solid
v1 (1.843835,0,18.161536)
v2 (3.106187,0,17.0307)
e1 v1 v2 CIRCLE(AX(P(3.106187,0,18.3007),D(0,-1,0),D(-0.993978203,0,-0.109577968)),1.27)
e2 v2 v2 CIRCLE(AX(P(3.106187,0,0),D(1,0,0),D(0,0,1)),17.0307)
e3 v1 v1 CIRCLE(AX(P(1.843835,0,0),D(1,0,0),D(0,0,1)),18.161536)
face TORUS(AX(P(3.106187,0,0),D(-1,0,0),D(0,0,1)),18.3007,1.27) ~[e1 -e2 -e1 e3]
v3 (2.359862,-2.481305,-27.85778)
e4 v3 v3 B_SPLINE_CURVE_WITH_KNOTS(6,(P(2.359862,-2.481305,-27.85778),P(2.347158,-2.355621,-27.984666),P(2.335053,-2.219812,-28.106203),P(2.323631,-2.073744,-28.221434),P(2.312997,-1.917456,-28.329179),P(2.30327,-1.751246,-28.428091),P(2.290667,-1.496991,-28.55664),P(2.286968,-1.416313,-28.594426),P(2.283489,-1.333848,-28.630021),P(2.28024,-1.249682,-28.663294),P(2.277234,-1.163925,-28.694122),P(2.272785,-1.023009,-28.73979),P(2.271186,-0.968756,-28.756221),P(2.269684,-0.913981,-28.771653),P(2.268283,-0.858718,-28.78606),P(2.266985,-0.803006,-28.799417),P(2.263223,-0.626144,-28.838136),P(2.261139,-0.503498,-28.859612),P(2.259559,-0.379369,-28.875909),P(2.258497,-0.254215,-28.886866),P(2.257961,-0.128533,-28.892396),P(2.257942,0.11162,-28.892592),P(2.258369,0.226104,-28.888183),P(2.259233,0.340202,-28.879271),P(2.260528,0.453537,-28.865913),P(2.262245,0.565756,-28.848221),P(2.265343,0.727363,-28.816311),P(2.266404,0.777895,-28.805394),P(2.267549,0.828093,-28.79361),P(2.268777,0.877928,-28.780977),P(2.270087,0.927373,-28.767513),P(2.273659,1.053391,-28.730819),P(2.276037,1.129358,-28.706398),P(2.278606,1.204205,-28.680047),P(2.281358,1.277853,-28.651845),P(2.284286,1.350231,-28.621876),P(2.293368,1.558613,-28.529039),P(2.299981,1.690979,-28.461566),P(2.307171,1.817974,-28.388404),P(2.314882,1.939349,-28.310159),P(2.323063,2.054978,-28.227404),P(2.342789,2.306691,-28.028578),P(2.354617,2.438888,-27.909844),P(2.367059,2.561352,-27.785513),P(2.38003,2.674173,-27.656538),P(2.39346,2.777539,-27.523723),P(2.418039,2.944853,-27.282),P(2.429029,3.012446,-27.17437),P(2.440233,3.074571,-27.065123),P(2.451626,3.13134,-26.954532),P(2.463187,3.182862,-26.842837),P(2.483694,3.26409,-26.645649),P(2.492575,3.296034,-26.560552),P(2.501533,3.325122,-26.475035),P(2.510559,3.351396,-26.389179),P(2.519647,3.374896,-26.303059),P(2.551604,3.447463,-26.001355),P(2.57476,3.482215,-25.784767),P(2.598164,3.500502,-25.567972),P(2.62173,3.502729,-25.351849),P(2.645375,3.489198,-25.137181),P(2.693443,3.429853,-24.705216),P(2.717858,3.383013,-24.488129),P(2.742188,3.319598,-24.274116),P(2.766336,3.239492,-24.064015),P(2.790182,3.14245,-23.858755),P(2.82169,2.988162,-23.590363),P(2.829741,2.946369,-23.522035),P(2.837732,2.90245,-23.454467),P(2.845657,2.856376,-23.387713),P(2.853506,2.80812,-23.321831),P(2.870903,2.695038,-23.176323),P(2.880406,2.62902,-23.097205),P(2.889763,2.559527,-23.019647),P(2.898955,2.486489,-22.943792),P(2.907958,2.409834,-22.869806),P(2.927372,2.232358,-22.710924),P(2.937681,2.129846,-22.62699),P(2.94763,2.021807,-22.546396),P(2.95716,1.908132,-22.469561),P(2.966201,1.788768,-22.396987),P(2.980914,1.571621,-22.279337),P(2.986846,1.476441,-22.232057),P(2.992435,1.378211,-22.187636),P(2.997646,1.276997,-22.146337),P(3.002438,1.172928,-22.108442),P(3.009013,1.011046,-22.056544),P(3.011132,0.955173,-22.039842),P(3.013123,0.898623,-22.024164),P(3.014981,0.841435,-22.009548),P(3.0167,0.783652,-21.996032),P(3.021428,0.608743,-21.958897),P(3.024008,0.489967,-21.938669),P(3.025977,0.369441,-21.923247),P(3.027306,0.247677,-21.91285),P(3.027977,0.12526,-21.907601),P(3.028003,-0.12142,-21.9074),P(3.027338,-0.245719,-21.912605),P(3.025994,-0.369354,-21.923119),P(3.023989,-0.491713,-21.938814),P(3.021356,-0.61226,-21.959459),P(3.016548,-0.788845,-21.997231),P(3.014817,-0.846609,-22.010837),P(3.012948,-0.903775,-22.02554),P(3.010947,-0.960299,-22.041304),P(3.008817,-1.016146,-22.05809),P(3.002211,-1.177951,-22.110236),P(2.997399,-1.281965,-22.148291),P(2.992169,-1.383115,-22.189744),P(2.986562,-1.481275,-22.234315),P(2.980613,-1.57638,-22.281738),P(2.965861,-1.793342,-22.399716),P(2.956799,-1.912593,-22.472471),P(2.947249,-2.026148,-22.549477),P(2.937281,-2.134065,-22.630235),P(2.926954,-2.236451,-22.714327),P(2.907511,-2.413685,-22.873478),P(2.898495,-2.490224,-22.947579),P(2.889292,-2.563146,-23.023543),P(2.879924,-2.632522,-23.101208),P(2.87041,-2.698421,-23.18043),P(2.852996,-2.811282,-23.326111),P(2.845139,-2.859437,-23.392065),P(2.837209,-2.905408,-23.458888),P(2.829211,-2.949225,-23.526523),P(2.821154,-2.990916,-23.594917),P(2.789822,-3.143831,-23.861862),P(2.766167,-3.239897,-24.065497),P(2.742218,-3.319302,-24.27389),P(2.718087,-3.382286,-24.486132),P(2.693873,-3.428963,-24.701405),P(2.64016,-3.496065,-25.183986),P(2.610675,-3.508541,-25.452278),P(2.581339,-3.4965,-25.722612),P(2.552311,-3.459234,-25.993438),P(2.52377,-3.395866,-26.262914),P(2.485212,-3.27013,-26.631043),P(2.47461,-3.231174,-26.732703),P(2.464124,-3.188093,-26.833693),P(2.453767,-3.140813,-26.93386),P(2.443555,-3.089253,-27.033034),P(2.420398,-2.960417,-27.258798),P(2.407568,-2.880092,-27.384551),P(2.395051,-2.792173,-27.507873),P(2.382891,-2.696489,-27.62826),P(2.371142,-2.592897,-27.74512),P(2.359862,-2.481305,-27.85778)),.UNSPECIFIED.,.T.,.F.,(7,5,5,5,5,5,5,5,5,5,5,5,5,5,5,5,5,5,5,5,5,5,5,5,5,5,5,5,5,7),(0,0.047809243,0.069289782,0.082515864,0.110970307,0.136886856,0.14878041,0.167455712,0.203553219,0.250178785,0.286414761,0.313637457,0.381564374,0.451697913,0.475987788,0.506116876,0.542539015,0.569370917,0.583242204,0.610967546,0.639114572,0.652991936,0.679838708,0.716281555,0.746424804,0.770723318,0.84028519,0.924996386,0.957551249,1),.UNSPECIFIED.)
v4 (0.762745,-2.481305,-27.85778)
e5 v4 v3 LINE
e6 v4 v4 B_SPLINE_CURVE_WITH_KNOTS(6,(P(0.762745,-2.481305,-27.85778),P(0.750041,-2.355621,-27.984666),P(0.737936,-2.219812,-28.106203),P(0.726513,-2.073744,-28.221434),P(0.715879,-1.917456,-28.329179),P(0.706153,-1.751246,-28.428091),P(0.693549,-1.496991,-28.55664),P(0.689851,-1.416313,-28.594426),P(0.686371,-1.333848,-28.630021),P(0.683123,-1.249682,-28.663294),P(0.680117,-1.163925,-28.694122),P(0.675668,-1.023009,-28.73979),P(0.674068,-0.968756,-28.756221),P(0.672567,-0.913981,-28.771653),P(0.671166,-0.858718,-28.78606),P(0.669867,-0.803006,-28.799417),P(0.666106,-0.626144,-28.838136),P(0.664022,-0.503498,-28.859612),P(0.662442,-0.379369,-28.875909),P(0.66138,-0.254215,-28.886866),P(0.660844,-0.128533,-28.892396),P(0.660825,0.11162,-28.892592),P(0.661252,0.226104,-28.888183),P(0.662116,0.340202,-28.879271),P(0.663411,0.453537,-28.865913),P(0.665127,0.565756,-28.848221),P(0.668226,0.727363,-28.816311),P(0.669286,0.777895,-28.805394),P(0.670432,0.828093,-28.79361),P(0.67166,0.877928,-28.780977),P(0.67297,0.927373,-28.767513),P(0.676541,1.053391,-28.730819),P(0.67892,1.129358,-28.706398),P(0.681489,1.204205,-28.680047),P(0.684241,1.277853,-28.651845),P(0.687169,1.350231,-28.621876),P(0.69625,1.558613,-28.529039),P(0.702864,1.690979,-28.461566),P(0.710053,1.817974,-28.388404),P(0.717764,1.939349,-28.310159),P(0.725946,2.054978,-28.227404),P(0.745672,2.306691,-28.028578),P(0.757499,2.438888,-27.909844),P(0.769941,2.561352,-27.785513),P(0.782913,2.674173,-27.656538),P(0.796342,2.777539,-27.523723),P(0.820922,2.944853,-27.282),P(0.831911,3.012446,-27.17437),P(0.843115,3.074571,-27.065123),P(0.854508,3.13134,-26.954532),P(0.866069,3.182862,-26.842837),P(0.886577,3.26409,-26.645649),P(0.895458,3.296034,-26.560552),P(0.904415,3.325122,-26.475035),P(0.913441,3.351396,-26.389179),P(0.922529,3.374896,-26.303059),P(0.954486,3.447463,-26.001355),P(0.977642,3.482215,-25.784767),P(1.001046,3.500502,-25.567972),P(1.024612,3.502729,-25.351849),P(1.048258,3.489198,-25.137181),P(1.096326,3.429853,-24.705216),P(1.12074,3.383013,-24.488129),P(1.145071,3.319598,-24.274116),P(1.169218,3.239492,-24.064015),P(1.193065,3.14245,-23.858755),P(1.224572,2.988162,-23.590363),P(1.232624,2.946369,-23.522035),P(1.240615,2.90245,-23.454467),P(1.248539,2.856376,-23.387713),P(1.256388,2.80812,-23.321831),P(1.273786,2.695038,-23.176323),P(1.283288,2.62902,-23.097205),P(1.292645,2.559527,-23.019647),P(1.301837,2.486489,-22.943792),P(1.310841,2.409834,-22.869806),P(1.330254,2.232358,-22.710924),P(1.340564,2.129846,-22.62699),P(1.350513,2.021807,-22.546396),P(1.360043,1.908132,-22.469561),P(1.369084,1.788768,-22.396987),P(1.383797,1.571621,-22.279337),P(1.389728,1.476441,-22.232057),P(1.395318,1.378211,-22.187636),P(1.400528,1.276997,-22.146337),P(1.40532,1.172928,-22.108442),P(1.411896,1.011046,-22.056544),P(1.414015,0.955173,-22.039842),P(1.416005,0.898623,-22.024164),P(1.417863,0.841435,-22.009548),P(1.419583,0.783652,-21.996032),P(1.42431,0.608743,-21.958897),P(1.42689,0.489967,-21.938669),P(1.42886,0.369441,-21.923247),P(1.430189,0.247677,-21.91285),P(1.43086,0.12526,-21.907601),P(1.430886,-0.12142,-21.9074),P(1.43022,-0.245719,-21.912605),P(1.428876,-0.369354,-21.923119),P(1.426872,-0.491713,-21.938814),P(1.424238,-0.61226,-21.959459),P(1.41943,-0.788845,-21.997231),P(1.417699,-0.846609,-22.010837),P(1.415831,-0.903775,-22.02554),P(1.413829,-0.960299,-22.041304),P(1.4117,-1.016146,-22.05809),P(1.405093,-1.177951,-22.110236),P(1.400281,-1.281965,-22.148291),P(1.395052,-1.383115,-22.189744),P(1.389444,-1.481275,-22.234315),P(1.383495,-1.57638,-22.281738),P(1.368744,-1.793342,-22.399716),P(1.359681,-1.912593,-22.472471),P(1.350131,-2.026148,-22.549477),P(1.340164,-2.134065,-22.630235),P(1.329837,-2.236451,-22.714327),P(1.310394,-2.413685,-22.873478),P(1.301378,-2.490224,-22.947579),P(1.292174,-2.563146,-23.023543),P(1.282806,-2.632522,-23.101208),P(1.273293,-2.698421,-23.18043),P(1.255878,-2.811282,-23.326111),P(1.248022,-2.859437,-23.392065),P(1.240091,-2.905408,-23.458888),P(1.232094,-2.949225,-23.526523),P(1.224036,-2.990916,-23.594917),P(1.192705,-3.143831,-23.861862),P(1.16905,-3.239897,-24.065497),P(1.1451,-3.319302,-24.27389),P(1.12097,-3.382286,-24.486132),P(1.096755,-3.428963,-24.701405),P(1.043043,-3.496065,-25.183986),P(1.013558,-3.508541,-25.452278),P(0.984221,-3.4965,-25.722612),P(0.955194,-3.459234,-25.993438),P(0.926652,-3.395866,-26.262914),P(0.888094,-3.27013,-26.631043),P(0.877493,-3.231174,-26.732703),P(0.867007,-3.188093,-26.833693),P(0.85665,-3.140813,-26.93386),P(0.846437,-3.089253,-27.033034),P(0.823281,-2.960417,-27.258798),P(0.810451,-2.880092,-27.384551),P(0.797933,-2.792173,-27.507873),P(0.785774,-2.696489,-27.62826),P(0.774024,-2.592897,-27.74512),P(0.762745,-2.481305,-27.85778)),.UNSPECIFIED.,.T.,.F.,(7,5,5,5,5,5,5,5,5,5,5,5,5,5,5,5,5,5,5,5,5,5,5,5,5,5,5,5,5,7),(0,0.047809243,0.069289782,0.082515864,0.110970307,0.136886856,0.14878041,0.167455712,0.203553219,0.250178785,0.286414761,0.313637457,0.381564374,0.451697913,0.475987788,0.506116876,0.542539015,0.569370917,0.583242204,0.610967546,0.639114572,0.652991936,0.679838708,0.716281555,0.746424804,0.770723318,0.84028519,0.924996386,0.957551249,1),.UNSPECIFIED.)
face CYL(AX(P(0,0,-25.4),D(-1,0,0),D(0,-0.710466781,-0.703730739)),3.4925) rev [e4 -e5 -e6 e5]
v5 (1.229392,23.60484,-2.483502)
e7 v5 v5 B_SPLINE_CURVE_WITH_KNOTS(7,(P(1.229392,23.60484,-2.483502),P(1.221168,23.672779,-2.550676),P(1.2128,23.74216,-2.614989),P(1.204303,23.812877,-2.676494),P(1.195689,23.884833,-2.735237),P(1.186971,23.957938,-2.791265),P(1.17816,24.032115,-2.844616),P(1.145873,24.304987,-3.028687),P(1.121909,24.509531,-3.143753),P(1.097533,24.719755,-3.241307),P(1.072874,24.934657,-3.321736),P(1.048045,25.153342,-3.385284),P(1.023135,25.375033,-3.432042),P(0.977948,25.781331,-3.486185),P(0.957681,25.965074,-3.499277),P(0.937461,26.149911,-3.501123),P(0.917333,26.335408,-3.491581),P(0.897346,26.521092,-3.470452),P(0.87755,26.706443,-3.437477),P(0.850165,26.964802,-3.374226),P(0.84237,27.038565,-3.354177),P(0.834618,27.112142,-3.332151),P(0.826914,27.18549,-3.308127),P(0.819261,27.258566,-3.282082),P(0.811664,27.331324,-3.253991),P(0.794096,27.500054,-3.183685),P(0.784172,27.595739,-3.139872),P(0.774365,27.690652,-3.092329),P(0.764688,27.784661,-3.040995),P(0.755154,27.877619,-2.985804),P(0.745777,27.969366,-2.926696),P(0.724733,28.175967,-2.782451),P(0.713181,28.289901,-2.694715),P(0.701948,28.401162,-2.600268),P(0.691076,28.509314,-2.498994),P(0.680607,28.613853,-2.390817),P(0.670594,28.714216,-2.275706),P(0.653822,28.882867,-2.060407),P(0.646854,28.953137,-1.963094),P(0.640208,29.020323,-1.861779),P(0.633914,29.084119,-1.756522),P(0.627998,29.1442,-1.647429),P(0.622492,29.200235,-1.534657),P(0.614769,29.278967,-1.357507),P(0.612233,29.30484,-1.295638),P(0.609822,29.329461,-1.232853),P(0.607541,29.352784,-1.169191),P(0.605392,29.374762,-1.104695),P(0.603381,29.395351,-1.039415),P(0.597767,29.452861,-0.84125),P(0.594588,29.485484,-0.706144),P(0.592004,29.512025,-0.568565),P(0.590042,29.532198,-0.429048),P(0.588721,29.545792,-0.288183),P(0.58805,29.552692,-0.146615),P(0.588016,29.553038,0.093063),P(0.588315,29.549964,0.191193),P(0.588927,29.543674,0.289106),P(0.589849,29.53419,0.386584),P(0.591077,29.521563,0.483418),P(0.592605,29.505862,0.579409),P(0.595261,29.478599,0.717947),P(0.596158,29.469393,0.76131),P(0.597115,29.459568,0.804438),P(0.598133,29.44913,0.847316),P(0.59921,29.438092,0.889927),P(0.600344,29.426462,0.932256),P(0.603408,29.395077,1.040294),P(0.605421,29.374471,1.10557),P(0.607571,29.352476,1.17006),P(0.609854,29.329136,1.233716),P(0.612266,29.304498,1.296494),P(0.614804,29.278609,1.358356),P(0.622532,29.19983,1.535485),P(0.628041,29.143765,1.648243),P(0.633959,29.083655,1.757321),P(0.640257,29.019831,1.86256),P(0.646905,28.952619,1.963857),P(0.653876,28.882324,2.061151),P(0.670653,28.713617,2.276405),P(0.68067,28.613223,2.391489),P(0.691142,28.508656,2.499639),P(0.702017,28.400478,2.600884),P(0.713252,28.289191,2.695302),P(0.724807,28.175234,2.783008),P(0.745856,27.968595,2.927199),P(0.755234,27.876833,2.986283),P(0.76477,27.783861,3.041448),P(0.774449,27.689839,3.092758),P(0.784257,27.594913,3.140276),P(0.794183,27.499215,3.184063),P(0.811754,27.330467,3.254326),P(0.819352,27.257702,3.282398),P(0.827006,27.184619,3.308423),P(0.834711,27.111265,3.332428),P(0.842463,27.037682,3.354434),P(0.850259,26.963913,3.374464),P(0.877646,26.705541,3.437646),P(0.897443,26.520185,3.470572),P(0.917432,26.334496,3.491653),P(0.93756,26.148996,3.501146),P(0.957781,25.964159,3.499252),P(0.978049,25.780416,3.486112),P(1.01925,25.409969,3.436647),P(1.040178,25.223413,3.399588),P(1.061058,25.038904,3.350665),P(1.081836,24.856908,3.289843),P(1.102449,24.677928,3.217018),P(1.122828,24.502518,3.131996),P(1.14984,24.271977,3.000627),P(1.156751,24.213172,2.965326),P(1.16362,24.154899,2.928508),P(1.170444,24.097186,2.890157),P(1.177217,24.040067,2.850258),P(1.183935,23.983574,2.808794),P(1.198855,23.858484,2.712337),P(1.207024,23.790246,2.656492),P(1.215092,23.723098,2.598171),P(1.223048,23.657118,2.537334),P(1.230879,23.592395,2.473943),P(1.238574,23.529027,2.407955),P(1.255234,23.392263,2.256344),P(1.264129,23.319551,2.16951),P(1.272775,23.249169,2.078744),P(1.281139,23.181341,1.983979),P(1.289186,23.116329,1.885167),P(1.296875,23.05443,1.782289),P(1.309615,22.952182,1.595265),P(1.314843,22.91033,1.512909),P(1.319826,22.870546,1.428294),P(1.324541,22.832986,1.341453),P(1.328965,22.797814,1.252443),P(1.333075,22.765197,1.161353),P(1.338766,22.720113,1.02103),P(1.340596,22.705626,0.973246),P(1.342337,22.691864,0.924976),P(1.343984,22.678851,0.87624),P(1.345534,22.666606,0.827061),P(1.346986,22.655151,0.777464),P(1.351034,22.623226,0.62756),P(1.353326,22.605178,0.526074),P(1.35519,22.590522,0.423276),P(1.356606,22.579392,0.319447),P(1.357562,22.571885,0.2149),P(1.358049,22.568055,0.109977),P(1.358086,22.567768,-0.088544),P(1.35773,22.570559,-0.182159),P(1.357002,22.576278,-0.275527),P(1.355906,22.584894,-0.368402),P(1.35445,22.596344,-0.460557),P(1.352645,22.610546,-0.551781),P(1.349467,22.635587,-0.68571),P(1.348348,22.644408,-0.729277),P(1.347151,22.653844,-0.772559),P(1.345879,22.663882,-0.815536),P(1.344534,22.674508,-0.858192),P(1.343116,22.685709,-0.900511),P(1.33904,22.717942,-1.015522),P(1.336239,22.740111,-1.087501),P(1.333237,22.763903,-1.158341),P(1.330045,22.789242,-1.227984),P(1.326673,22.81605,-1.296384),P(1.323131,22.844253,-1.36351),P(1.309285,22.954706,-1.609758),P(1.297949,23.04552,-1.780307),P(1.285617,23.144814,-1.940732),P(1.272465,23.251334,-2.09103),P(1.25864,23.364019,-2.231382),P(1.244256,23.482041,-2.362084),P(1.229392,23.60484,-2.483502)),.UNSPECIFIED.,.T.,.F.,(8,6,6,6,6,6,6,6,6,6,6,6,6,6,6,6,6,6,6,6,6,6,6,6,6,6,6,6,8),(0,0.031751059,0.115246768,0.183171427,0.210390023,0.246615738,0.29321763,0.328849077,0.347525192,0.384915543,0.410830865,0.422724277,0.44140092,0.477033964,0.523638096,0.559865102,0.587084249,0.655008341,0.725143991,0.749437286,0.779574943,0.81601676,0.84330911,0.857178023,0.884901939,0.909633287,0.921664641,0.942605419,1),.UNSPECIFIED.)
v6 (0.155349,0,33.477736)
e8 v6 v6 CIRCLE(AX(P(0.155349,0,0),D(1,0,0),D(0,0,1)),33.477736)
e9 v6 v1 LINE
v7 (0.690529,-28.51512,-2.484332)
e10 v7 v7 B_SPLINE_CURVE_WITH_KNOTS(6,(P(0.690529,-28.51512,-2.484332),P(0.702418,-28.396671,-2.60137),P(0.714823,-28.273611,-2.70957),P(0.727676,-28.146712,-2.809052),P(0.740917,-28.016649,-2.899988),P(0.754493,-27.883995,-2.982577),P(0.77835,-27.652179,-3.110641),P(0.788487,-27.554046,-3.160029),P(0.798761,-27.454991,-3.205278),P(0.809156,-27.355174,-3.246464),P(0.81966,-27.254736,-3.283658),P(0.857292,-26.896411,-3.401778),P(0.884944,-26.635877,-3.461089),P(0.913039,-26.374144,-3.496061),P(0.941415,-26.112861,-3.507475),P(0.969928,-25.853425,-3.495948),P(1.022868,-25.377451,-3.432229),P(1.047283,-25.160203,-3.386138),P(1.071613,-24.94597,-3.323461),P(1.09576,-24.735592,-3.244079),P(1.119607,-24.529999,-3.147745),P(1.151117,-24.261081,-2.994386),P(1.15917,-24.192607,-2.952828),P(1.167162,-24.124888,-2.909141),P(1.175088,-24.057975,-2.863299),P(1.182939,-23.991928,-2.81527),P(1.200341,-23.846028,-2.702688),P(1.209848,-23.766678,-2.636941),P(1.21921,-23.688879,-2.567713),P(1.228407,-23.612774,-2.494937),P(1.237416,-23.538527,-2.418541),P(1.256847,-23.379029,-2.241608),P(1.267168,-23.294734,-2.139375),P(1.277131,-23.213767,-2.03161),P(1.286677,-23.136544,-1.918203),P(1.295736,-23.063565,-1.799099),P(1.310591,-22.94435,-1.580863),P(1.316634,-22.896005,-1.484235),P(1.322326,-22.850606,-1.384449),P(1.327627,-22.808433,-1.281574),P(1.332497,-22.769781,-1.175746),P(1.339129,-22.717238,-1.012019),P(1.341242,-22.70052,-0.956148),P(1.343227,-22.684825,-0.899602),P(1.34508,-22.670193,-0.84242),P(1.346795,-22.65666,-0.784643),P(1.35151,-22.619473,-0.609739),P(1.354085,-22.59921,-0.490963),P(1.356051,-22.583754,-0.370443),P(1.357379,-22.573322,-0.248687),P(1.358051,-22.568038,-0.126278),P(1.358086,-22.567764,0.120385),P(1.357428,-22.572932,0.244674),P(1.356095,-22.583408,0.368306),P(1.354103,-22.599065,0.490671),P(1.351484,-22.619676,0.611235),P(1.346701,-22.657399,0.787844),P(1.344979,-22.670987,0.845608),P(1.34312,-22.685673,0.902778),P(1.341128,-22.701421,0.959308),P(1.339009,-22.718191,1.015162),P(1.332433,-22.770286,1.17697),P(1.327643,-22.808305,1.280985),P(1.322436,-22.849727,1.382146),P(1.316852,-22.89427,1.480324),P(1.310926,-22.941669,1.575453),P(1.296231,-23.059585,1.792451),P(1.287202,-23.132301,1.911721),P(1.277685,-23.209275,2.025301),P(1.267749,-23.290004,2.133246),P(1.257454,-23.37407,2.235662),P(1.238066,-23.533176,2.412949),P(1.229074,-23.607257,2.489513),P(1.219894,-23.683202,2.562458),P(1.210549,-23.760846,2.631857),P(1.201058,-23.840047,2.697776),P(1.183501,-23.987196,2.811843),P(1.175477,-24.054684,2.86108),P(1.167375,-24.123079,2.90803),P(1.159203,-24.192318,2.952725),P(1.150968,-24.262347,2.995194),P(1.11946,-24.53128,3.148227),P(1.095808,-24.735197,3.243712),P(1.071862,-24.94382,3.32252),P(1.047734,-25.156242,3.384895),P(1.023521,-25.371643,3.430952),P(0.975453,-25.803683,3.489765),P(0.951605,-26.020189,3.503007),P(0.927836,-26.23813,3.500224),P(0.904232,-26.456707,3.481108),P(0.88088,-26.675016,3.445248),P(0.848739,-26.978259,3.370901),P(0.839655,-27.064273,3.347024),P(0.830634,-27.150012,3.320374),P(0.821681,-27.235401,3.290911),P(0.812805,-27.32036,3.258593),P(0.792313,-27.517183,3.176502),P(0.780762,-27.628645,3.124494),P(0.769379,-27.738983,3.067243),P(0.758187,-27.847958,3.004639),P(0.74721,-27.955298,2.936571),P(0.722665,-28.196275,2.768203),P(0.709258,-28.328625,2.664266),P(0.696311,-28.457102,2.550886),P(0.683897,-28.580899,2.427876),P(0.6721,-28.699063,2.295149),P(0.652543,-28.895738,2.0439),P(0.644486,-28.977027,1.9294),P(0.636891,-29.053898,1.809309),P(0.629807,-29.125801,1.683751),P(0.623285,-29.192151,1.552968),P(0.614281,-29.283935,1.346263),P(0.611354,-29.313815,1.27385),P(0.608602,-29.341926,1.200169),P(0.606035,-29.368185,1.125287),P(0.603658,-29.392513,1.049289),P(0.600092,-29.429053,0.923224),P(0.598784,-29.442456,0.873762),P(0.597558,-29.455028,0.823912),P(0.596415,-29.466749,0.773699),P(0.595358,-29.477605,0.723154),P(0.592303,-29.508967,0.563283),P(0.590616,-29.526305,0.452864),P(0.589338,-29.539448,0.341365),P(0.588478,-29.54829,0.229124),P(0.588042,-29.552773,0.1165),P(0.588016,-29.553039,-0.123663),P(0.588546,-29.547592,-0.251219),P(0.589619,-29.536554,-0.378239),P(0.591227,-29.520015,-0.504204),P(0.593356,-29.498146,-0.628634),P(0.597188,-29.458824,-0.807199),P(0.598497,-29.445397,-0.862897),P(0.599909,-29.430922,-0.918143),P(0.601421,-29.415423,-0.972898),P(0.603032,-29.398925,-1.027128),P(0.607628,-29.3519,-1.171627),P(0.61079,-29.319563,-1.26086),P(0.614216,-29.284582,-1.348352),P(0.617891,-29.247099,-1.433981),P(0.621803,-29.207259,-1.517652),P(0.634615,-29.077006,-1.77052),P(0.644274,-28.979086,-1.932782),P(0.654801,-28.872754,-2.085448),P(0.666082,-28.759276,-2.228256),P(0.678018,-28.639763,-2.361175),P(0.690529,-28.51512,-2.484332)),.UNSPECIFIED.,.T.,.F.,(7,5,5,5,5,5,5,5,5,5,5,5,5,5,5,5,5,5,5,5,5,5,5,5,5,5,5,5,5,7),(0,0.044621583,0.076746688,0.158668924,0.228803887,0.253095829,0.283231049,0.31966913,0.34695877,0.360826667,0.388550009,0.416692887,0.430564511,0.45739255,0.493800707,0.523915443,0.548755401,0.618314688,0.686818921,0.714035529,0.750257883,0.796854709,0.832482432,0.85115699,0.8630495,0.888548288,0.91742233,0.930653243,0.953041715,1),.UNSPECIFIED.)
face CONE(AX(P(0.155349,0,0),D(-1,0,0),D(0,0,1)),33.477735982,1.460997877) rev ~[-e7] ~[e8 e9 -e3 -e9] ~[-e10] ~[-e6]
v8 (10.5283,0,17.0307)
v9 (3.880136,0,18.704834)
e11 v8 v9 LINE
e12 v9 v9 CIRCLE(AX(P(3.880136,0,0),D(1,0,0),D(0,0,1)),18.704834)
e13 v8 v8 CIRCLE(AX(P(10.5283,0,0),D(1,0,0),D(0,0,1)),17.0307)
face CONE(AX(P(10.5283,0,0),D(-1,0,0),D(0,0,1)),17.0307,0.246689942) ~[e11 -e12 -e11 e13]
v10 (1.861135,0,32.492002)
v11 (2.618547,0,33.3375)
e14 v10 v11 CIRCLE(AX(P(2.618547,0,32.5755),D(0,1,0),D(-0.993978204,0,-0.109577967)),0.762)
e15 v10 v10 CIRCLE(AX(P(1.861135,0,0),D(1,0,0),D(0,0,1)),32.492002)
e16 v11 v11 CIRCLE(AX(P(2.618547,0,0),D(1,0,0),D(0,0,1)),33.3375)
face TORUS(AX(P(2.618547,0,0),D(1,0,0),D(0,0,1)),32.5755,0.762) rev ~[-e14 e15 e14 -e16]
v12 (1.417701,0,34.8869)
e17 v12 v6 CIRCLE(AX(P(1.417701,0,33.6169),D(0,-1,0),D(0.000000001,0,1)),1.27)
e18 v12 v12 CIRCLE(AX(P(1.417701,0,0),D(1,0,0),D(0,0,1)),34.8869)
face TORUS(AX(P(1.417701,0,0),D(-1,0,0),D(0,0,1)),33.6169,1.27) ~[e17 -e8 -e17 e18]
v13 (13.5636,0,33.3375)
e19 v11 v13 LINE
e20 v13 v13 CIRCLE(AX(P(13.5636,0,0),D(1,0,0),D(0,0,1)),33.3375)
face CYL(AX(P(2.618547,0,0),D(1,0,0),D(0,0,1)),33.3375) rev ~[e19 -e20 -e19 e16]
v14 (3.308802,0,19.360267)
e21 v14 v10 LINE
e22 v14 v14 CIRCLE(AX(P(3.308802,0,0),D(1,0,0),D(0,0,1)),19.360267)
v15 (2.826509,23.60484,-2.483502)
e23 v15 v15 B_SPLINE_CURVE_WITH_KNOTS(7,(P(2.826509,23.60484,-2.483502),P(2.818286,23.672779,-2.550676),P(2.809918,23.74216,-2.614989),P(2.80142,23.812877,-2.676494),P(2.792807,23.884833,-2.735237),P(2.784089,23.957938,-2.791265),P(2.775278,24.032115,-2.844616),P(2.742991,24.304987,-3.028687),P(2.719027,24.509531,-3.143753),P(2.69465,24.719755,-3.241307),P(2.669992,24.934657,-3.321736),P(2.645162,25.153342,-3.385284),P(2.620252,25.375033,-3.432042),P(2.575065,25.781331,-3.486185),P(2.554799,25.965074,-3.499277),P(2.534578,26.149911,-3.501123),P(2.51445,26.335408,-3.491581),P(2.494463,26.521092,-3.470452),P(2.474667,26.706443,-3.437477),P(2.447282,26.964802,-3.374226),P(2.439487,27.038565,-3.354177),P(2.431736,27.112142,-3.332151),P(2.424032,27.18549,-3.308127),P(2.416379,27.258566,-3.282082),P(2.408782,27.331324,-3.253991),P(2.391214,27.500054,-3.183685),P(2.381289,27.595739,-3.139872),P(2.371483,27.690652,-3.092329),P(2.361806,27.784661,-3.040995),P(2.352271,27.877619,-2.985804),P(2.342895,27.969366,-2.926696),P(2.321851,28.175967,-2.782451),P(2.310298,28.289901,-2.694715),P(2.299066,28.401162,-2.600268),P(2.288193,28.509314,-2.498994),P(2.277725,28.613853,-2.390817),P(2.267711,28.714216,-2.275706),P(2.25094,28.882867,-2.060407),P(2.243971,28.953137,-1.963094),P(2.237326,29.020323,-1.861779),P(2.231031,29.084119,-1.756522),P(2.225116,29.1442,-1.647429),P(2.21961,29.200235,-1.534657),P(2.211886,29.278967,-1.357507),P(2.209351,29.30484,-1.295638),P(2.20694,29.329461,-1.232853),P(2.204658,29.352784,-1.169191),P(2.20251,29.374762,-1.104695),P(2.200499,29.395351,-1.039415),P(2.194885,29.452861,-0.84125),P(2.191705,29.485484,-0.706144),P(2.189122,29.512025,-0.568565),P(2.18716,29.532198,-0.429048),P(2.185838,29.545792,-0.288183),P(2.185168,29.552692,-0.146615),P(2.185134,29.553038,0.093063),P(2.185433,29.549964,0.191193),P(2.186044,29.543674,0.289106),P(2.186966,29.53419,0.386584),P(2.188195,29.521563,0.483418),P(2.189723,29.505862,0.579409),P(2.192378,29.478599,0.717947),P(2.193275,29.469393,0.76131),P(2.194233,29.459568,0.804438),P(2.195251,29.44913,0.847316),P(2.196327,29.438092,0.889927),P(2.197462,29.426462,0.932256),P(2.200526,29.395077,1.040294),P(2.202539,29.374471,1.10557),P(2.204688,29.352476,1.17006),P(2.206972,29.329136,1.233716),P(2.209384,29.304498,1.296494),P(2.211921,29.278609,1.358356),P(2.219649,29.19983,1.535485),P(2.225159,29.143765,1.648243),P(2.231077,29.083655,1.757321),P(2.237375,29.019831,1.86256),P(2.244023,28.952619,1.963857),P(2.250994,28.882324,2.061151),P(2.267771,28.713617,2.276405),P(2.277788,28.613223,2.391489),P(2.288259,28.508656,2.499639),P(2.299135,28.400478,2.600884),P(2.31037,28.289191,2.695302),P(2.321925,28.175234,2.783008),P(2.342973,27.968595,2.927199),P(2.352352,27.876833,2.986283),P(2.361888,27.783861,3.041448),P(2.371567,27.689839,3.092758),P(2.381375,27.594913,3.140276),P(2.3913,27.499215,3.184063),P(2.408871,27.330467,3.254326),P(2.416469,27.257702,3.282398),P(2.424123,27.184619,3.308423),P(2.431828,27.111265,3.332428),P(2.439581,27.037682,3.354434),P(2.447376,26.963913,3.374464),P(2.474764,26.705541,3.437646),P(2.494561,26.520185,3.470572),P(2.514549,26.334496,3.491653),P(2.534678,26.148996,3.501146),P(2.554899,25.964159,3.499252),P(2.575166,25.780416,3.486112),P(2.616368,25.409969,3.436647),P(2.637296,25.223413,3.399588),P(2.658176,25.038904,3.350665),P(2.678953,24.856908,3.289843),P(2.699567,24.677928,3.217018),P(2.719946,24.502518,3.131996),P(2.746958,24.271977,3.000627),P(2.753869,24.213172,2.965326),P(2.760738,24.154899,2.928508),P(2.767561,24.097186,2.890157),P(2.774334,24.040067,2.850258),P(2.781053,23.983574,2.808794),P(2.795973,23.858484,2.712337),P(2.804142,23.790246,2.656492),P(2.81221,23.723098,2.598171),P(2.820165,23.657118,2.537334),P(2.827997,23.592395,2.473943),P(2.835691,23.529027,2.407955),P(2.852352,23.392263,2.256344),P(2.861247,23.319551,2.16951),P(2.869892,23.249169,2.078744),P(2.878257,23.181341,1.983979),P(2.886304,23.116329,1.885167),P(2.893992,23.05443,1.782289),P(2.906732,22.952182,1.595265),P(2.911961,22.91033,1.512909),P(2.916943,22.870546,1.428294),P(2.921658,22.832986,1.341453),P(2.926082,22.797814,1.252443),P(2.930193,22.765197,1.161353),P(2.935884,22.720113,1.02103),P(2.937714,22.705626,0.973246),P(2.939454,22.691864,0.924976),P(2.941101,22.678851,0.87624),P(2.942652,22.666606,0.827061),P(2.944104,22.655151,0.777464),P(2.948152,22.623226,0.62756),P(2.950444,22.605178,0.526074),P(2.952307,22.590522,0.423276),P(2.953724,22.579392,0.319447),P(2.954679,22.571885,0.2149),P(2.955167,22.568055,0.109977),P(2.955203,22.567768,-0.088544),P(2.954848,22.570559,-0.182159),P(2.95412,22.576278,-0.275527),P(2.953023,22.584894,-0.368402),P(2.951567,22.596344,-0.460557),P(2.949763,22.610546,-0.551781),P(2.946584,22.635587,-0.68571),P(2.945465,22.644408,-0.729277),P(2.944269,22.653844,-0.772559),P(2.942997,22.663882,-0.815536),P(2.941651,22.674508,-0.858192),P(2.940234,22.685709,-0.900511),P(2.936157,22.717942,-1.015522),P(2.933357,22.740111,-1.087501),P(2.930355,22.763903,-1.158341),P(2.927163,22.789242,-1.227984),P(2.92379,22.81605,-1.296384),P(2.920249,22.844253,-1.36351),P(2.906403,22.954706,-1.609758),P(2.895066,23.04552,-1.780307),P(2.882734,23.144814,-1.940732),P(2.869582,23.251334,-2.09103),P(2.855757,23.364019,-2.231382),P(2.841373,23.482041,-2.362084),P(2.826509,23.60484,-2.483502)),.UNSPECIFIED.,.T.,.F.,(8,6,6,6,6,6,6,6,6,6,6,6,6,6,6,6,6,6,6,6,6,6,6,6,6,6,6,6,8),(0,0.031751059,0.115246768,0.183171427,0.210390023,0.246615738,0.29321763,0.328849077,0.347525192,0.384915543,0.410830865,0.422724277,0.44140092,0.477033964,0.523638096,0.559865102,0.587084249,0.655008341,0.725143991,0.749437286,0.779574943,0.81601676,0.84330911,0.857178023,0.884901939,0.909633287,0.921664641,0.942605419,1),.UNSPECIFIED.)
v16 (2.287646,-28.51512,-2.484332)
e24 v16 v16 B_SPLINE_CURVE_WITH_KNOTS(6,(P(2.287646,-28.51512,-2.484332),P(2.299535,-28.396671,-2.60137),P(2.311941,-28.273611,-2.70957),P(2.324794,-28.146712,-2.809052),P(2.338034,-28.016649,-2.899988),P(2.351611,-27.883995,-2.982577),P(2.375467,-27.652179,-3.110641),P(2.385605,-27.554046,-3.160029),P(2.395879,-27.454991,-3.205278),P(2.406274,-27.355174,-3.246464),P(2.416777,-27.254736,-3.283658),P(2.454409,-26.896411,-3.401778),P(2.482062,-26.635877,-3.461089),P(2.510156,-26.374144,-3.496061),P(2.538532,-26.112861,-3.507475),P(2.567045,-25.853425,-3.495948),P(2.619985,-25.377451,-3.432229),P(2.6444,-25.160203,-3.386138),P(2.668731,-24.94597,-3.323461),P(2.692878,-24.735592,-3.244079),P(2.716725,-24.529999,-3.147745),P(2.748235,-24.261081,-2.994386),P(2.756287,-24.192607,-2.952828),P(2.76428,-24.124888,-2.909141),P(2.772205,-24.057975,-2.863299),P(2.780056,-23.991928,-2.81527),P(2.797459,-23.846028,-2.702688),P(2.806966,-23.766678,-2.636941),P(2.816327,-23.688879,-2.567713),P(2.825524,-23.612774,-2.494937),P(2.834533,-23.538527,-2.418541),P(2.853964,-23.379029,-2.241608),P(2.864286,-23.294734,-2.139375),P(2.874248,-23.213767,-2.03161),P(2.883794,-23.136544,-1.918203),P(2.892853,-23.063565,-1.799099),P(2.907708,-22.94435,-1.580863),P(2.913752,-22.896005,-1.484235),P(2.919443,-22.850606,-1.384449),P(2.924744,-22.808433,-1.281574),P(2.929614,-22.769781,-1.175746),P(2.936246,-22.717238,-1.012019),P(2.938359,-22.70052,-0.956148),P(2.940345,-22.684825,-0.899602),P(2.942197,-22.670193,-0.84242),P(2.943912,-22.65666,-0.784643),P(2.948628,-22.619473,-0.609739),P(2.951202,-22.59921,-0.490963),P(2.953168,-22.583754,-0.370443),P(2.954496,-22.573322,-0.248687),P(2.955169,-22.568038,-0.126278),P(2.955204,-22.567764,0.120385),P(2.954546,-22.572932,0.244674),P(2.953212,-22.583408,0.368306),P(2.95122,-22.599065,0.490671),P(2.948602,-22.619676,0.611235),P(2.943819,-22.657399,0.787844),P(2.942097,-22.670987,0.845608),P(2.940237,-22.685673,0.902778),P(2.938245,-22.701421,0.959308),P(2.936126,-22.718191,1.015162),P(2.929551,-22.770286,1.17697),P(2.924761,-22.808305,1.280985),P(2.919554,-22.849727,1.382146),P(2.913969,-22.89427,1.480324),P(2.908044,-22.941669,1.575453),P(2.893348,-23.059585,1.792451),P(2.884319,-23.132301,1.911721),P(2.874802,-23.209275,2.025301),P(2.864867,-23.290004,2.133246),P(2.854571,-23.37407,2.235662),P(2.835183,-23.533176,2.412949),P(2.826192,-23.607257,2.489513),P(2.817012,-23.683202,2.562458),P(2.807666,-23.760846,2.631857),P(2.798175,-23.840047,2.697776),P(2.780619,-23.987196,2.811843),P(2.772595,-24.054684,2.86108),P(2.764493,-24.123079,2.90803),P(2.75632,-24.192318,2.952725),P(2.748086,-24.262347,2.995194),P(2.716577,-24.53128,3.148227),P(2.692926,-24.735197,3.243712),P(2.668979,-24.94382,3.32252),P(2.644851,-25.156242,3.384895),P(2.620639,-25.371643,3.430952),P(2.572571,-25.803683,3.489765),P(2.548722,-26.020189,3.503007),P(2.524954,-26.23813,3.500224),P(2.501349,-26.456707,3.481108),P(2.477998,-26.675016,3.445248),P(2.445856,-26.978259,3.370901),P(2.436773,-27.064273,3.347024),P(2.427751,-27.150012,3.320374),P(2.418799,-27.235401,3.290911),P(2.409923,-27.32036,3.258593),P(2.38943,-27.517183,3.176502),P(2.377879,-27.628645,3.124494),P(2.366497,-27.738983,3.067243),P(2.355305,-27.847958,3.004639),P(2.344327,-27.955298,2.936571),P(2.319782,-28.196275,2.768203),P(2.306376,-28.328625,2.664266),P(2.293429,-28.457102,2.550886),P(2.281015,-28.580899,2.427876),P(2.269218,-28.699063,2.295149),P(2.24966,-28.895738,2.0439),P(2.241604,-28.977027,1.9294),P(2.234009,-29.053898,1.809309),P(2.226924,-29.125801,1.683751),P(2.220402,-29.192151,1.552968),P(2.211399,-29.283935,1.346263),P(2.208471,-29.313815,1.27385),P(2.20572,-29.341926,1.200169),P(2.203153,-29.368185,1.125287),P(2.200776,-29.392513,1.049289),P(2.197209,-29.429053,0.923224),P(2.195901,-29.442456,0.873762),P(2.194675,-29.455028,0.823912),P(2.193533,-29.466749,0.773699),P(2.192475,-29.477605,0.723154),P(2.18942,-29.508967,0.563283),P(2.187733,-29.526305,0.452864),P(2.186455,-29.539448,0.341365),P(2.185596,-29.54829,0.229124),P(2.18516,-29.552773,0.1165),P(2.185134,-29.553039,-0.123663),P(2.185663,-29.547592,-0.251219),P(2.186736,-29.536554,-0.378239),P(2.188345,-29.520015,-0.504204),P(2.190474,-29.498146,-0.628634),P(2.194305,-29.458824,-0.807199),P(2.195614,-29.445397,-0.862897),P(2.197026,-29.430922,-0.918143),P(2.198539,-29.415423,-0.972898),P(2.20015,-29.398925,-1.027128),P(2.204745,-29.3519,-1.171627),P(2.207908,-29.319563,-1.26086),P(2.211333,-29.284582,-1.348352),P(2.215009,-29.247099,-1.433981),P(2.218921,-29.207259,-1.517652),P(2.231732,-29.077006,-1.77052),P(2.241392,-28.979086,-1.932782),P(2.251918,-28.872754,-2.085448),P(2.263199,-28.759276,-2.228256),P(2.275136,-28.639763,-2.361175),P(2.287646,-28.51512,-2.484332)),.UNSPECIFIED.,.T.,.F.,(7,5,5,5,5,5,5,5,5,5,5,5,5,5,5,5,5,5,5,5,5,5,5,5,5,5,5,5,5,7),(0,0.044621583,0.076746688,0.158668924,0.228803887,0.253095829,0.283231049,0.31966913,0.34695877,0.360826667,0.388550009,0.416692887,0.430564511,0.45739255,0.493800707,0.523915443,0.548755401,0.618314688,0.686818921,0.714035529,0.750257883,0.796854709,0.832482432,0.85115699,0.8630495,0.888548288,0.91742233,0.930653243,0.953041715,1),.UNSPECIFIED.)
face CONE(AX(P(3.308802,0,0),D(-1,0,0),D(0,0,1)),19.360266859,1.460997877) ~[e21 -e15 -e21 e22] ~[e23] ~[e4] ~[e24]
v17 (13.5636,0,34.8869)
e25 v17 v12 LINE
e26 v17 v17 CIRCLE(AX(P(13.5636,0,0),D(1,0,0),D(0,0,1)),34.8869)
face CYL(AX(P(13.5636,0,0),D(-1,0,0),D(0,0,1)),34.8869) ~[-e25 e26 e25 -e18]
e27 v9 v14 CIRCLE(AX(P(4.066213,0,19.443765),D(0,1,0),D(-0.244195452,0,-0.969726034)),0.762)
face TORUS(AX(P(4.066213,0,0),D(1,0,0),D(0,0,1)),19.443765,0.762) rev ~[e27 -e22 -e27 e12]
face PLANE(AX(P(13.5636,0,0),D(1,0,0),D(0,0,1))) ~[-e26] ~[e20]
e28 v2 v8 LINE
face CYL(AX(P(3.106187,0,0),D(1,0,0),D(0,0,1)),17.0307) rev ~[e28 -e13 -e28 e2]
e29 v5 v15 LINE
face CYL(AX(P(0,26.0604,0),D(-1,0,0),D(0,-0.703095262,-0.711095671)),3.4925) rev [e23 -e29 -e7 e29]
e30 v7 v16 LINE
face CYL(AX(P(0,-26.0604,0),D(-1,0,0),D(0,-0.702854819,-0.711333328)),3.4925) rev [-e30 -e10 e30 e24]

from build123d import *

# Parameters (mm, degrees)
SKETCH2_R          = 3.4925
CUT_EXTRUDE1_DEPTH = 52.167986429


with BuildPart() as part:
    # Sketch1 → Revolve1 (revolve)
    with BuildSketch(Plane.XY, mode=Mode.PRIVATE) as revolve1_sk:
        with BuildLine():
            Line((0.155348807, 33.477735982), (1.843834582, 18.161535982))
            ThreePointArc((1.843834582, 18.161535982), (2.258790389, 17.35475119), (3.106186901, 17.0307))
            Line((3.106186901, 17.0307), (10.5283, 17.0307))
            Line((10.5283, 17.0307), (3.88013628, 18.704834032))
            ThreePointArc((3.88013628, 18.704834032), (3.491808651, 18.943062367), (3.308801824, 19.360266859))
            Line((3.308801824, 19.360266859), (1.861135478, 32.492001589))
            ThreePointArc((1.861135478, 32.492001589), (2.050977583, 33.083937907), (2.618546869, 33.3375))
            Line((2.618546869, 33.3375), (13.5636, 33.3375))
            Line((13.5636, 33.3375), (13.5636, 34.8869))
            Line((13.5636, 34.8869), (1.417701126, 34.8869))
            ThreePointArc((1.417701126, 34.8869), (0.471752315, 34.464296512), (0.155348807, 33.477735982))
        make_face()
    revolve(revolve1_sk.sketch.rotate(Axis((-1000.538686221, 0, 0), (1, 0, 0)), 90), axis=Axis((-1000.538686221, 0, 0), (1, 0, 0)))

    # Sketch2 → Cut-Extrude1 (cut, through all)
    with BuildSketch(Plane(origin=(0, 0, 0), x_dir=(0, 0, -1), z_dir=(1, 0, 0))):
        with Locations(Location((0, -26.0604, 0), (0, 0, 315.343502334))):
            Circle(SKETCH2_R)
        with Locations(Location((0, 26.0604, 0), (0, 0, 315.324132172))):
            Circle(SKETCH2_R)
        with Locations(Location((25.4, 0, 0), (0, 0, 314.727093361))):
            Circle(SKETCH2_R)
    extrude(amount=CUT_EXTRUDE1_DEPTH, mode=Mode.SUBTRACT)


solid = part.part
